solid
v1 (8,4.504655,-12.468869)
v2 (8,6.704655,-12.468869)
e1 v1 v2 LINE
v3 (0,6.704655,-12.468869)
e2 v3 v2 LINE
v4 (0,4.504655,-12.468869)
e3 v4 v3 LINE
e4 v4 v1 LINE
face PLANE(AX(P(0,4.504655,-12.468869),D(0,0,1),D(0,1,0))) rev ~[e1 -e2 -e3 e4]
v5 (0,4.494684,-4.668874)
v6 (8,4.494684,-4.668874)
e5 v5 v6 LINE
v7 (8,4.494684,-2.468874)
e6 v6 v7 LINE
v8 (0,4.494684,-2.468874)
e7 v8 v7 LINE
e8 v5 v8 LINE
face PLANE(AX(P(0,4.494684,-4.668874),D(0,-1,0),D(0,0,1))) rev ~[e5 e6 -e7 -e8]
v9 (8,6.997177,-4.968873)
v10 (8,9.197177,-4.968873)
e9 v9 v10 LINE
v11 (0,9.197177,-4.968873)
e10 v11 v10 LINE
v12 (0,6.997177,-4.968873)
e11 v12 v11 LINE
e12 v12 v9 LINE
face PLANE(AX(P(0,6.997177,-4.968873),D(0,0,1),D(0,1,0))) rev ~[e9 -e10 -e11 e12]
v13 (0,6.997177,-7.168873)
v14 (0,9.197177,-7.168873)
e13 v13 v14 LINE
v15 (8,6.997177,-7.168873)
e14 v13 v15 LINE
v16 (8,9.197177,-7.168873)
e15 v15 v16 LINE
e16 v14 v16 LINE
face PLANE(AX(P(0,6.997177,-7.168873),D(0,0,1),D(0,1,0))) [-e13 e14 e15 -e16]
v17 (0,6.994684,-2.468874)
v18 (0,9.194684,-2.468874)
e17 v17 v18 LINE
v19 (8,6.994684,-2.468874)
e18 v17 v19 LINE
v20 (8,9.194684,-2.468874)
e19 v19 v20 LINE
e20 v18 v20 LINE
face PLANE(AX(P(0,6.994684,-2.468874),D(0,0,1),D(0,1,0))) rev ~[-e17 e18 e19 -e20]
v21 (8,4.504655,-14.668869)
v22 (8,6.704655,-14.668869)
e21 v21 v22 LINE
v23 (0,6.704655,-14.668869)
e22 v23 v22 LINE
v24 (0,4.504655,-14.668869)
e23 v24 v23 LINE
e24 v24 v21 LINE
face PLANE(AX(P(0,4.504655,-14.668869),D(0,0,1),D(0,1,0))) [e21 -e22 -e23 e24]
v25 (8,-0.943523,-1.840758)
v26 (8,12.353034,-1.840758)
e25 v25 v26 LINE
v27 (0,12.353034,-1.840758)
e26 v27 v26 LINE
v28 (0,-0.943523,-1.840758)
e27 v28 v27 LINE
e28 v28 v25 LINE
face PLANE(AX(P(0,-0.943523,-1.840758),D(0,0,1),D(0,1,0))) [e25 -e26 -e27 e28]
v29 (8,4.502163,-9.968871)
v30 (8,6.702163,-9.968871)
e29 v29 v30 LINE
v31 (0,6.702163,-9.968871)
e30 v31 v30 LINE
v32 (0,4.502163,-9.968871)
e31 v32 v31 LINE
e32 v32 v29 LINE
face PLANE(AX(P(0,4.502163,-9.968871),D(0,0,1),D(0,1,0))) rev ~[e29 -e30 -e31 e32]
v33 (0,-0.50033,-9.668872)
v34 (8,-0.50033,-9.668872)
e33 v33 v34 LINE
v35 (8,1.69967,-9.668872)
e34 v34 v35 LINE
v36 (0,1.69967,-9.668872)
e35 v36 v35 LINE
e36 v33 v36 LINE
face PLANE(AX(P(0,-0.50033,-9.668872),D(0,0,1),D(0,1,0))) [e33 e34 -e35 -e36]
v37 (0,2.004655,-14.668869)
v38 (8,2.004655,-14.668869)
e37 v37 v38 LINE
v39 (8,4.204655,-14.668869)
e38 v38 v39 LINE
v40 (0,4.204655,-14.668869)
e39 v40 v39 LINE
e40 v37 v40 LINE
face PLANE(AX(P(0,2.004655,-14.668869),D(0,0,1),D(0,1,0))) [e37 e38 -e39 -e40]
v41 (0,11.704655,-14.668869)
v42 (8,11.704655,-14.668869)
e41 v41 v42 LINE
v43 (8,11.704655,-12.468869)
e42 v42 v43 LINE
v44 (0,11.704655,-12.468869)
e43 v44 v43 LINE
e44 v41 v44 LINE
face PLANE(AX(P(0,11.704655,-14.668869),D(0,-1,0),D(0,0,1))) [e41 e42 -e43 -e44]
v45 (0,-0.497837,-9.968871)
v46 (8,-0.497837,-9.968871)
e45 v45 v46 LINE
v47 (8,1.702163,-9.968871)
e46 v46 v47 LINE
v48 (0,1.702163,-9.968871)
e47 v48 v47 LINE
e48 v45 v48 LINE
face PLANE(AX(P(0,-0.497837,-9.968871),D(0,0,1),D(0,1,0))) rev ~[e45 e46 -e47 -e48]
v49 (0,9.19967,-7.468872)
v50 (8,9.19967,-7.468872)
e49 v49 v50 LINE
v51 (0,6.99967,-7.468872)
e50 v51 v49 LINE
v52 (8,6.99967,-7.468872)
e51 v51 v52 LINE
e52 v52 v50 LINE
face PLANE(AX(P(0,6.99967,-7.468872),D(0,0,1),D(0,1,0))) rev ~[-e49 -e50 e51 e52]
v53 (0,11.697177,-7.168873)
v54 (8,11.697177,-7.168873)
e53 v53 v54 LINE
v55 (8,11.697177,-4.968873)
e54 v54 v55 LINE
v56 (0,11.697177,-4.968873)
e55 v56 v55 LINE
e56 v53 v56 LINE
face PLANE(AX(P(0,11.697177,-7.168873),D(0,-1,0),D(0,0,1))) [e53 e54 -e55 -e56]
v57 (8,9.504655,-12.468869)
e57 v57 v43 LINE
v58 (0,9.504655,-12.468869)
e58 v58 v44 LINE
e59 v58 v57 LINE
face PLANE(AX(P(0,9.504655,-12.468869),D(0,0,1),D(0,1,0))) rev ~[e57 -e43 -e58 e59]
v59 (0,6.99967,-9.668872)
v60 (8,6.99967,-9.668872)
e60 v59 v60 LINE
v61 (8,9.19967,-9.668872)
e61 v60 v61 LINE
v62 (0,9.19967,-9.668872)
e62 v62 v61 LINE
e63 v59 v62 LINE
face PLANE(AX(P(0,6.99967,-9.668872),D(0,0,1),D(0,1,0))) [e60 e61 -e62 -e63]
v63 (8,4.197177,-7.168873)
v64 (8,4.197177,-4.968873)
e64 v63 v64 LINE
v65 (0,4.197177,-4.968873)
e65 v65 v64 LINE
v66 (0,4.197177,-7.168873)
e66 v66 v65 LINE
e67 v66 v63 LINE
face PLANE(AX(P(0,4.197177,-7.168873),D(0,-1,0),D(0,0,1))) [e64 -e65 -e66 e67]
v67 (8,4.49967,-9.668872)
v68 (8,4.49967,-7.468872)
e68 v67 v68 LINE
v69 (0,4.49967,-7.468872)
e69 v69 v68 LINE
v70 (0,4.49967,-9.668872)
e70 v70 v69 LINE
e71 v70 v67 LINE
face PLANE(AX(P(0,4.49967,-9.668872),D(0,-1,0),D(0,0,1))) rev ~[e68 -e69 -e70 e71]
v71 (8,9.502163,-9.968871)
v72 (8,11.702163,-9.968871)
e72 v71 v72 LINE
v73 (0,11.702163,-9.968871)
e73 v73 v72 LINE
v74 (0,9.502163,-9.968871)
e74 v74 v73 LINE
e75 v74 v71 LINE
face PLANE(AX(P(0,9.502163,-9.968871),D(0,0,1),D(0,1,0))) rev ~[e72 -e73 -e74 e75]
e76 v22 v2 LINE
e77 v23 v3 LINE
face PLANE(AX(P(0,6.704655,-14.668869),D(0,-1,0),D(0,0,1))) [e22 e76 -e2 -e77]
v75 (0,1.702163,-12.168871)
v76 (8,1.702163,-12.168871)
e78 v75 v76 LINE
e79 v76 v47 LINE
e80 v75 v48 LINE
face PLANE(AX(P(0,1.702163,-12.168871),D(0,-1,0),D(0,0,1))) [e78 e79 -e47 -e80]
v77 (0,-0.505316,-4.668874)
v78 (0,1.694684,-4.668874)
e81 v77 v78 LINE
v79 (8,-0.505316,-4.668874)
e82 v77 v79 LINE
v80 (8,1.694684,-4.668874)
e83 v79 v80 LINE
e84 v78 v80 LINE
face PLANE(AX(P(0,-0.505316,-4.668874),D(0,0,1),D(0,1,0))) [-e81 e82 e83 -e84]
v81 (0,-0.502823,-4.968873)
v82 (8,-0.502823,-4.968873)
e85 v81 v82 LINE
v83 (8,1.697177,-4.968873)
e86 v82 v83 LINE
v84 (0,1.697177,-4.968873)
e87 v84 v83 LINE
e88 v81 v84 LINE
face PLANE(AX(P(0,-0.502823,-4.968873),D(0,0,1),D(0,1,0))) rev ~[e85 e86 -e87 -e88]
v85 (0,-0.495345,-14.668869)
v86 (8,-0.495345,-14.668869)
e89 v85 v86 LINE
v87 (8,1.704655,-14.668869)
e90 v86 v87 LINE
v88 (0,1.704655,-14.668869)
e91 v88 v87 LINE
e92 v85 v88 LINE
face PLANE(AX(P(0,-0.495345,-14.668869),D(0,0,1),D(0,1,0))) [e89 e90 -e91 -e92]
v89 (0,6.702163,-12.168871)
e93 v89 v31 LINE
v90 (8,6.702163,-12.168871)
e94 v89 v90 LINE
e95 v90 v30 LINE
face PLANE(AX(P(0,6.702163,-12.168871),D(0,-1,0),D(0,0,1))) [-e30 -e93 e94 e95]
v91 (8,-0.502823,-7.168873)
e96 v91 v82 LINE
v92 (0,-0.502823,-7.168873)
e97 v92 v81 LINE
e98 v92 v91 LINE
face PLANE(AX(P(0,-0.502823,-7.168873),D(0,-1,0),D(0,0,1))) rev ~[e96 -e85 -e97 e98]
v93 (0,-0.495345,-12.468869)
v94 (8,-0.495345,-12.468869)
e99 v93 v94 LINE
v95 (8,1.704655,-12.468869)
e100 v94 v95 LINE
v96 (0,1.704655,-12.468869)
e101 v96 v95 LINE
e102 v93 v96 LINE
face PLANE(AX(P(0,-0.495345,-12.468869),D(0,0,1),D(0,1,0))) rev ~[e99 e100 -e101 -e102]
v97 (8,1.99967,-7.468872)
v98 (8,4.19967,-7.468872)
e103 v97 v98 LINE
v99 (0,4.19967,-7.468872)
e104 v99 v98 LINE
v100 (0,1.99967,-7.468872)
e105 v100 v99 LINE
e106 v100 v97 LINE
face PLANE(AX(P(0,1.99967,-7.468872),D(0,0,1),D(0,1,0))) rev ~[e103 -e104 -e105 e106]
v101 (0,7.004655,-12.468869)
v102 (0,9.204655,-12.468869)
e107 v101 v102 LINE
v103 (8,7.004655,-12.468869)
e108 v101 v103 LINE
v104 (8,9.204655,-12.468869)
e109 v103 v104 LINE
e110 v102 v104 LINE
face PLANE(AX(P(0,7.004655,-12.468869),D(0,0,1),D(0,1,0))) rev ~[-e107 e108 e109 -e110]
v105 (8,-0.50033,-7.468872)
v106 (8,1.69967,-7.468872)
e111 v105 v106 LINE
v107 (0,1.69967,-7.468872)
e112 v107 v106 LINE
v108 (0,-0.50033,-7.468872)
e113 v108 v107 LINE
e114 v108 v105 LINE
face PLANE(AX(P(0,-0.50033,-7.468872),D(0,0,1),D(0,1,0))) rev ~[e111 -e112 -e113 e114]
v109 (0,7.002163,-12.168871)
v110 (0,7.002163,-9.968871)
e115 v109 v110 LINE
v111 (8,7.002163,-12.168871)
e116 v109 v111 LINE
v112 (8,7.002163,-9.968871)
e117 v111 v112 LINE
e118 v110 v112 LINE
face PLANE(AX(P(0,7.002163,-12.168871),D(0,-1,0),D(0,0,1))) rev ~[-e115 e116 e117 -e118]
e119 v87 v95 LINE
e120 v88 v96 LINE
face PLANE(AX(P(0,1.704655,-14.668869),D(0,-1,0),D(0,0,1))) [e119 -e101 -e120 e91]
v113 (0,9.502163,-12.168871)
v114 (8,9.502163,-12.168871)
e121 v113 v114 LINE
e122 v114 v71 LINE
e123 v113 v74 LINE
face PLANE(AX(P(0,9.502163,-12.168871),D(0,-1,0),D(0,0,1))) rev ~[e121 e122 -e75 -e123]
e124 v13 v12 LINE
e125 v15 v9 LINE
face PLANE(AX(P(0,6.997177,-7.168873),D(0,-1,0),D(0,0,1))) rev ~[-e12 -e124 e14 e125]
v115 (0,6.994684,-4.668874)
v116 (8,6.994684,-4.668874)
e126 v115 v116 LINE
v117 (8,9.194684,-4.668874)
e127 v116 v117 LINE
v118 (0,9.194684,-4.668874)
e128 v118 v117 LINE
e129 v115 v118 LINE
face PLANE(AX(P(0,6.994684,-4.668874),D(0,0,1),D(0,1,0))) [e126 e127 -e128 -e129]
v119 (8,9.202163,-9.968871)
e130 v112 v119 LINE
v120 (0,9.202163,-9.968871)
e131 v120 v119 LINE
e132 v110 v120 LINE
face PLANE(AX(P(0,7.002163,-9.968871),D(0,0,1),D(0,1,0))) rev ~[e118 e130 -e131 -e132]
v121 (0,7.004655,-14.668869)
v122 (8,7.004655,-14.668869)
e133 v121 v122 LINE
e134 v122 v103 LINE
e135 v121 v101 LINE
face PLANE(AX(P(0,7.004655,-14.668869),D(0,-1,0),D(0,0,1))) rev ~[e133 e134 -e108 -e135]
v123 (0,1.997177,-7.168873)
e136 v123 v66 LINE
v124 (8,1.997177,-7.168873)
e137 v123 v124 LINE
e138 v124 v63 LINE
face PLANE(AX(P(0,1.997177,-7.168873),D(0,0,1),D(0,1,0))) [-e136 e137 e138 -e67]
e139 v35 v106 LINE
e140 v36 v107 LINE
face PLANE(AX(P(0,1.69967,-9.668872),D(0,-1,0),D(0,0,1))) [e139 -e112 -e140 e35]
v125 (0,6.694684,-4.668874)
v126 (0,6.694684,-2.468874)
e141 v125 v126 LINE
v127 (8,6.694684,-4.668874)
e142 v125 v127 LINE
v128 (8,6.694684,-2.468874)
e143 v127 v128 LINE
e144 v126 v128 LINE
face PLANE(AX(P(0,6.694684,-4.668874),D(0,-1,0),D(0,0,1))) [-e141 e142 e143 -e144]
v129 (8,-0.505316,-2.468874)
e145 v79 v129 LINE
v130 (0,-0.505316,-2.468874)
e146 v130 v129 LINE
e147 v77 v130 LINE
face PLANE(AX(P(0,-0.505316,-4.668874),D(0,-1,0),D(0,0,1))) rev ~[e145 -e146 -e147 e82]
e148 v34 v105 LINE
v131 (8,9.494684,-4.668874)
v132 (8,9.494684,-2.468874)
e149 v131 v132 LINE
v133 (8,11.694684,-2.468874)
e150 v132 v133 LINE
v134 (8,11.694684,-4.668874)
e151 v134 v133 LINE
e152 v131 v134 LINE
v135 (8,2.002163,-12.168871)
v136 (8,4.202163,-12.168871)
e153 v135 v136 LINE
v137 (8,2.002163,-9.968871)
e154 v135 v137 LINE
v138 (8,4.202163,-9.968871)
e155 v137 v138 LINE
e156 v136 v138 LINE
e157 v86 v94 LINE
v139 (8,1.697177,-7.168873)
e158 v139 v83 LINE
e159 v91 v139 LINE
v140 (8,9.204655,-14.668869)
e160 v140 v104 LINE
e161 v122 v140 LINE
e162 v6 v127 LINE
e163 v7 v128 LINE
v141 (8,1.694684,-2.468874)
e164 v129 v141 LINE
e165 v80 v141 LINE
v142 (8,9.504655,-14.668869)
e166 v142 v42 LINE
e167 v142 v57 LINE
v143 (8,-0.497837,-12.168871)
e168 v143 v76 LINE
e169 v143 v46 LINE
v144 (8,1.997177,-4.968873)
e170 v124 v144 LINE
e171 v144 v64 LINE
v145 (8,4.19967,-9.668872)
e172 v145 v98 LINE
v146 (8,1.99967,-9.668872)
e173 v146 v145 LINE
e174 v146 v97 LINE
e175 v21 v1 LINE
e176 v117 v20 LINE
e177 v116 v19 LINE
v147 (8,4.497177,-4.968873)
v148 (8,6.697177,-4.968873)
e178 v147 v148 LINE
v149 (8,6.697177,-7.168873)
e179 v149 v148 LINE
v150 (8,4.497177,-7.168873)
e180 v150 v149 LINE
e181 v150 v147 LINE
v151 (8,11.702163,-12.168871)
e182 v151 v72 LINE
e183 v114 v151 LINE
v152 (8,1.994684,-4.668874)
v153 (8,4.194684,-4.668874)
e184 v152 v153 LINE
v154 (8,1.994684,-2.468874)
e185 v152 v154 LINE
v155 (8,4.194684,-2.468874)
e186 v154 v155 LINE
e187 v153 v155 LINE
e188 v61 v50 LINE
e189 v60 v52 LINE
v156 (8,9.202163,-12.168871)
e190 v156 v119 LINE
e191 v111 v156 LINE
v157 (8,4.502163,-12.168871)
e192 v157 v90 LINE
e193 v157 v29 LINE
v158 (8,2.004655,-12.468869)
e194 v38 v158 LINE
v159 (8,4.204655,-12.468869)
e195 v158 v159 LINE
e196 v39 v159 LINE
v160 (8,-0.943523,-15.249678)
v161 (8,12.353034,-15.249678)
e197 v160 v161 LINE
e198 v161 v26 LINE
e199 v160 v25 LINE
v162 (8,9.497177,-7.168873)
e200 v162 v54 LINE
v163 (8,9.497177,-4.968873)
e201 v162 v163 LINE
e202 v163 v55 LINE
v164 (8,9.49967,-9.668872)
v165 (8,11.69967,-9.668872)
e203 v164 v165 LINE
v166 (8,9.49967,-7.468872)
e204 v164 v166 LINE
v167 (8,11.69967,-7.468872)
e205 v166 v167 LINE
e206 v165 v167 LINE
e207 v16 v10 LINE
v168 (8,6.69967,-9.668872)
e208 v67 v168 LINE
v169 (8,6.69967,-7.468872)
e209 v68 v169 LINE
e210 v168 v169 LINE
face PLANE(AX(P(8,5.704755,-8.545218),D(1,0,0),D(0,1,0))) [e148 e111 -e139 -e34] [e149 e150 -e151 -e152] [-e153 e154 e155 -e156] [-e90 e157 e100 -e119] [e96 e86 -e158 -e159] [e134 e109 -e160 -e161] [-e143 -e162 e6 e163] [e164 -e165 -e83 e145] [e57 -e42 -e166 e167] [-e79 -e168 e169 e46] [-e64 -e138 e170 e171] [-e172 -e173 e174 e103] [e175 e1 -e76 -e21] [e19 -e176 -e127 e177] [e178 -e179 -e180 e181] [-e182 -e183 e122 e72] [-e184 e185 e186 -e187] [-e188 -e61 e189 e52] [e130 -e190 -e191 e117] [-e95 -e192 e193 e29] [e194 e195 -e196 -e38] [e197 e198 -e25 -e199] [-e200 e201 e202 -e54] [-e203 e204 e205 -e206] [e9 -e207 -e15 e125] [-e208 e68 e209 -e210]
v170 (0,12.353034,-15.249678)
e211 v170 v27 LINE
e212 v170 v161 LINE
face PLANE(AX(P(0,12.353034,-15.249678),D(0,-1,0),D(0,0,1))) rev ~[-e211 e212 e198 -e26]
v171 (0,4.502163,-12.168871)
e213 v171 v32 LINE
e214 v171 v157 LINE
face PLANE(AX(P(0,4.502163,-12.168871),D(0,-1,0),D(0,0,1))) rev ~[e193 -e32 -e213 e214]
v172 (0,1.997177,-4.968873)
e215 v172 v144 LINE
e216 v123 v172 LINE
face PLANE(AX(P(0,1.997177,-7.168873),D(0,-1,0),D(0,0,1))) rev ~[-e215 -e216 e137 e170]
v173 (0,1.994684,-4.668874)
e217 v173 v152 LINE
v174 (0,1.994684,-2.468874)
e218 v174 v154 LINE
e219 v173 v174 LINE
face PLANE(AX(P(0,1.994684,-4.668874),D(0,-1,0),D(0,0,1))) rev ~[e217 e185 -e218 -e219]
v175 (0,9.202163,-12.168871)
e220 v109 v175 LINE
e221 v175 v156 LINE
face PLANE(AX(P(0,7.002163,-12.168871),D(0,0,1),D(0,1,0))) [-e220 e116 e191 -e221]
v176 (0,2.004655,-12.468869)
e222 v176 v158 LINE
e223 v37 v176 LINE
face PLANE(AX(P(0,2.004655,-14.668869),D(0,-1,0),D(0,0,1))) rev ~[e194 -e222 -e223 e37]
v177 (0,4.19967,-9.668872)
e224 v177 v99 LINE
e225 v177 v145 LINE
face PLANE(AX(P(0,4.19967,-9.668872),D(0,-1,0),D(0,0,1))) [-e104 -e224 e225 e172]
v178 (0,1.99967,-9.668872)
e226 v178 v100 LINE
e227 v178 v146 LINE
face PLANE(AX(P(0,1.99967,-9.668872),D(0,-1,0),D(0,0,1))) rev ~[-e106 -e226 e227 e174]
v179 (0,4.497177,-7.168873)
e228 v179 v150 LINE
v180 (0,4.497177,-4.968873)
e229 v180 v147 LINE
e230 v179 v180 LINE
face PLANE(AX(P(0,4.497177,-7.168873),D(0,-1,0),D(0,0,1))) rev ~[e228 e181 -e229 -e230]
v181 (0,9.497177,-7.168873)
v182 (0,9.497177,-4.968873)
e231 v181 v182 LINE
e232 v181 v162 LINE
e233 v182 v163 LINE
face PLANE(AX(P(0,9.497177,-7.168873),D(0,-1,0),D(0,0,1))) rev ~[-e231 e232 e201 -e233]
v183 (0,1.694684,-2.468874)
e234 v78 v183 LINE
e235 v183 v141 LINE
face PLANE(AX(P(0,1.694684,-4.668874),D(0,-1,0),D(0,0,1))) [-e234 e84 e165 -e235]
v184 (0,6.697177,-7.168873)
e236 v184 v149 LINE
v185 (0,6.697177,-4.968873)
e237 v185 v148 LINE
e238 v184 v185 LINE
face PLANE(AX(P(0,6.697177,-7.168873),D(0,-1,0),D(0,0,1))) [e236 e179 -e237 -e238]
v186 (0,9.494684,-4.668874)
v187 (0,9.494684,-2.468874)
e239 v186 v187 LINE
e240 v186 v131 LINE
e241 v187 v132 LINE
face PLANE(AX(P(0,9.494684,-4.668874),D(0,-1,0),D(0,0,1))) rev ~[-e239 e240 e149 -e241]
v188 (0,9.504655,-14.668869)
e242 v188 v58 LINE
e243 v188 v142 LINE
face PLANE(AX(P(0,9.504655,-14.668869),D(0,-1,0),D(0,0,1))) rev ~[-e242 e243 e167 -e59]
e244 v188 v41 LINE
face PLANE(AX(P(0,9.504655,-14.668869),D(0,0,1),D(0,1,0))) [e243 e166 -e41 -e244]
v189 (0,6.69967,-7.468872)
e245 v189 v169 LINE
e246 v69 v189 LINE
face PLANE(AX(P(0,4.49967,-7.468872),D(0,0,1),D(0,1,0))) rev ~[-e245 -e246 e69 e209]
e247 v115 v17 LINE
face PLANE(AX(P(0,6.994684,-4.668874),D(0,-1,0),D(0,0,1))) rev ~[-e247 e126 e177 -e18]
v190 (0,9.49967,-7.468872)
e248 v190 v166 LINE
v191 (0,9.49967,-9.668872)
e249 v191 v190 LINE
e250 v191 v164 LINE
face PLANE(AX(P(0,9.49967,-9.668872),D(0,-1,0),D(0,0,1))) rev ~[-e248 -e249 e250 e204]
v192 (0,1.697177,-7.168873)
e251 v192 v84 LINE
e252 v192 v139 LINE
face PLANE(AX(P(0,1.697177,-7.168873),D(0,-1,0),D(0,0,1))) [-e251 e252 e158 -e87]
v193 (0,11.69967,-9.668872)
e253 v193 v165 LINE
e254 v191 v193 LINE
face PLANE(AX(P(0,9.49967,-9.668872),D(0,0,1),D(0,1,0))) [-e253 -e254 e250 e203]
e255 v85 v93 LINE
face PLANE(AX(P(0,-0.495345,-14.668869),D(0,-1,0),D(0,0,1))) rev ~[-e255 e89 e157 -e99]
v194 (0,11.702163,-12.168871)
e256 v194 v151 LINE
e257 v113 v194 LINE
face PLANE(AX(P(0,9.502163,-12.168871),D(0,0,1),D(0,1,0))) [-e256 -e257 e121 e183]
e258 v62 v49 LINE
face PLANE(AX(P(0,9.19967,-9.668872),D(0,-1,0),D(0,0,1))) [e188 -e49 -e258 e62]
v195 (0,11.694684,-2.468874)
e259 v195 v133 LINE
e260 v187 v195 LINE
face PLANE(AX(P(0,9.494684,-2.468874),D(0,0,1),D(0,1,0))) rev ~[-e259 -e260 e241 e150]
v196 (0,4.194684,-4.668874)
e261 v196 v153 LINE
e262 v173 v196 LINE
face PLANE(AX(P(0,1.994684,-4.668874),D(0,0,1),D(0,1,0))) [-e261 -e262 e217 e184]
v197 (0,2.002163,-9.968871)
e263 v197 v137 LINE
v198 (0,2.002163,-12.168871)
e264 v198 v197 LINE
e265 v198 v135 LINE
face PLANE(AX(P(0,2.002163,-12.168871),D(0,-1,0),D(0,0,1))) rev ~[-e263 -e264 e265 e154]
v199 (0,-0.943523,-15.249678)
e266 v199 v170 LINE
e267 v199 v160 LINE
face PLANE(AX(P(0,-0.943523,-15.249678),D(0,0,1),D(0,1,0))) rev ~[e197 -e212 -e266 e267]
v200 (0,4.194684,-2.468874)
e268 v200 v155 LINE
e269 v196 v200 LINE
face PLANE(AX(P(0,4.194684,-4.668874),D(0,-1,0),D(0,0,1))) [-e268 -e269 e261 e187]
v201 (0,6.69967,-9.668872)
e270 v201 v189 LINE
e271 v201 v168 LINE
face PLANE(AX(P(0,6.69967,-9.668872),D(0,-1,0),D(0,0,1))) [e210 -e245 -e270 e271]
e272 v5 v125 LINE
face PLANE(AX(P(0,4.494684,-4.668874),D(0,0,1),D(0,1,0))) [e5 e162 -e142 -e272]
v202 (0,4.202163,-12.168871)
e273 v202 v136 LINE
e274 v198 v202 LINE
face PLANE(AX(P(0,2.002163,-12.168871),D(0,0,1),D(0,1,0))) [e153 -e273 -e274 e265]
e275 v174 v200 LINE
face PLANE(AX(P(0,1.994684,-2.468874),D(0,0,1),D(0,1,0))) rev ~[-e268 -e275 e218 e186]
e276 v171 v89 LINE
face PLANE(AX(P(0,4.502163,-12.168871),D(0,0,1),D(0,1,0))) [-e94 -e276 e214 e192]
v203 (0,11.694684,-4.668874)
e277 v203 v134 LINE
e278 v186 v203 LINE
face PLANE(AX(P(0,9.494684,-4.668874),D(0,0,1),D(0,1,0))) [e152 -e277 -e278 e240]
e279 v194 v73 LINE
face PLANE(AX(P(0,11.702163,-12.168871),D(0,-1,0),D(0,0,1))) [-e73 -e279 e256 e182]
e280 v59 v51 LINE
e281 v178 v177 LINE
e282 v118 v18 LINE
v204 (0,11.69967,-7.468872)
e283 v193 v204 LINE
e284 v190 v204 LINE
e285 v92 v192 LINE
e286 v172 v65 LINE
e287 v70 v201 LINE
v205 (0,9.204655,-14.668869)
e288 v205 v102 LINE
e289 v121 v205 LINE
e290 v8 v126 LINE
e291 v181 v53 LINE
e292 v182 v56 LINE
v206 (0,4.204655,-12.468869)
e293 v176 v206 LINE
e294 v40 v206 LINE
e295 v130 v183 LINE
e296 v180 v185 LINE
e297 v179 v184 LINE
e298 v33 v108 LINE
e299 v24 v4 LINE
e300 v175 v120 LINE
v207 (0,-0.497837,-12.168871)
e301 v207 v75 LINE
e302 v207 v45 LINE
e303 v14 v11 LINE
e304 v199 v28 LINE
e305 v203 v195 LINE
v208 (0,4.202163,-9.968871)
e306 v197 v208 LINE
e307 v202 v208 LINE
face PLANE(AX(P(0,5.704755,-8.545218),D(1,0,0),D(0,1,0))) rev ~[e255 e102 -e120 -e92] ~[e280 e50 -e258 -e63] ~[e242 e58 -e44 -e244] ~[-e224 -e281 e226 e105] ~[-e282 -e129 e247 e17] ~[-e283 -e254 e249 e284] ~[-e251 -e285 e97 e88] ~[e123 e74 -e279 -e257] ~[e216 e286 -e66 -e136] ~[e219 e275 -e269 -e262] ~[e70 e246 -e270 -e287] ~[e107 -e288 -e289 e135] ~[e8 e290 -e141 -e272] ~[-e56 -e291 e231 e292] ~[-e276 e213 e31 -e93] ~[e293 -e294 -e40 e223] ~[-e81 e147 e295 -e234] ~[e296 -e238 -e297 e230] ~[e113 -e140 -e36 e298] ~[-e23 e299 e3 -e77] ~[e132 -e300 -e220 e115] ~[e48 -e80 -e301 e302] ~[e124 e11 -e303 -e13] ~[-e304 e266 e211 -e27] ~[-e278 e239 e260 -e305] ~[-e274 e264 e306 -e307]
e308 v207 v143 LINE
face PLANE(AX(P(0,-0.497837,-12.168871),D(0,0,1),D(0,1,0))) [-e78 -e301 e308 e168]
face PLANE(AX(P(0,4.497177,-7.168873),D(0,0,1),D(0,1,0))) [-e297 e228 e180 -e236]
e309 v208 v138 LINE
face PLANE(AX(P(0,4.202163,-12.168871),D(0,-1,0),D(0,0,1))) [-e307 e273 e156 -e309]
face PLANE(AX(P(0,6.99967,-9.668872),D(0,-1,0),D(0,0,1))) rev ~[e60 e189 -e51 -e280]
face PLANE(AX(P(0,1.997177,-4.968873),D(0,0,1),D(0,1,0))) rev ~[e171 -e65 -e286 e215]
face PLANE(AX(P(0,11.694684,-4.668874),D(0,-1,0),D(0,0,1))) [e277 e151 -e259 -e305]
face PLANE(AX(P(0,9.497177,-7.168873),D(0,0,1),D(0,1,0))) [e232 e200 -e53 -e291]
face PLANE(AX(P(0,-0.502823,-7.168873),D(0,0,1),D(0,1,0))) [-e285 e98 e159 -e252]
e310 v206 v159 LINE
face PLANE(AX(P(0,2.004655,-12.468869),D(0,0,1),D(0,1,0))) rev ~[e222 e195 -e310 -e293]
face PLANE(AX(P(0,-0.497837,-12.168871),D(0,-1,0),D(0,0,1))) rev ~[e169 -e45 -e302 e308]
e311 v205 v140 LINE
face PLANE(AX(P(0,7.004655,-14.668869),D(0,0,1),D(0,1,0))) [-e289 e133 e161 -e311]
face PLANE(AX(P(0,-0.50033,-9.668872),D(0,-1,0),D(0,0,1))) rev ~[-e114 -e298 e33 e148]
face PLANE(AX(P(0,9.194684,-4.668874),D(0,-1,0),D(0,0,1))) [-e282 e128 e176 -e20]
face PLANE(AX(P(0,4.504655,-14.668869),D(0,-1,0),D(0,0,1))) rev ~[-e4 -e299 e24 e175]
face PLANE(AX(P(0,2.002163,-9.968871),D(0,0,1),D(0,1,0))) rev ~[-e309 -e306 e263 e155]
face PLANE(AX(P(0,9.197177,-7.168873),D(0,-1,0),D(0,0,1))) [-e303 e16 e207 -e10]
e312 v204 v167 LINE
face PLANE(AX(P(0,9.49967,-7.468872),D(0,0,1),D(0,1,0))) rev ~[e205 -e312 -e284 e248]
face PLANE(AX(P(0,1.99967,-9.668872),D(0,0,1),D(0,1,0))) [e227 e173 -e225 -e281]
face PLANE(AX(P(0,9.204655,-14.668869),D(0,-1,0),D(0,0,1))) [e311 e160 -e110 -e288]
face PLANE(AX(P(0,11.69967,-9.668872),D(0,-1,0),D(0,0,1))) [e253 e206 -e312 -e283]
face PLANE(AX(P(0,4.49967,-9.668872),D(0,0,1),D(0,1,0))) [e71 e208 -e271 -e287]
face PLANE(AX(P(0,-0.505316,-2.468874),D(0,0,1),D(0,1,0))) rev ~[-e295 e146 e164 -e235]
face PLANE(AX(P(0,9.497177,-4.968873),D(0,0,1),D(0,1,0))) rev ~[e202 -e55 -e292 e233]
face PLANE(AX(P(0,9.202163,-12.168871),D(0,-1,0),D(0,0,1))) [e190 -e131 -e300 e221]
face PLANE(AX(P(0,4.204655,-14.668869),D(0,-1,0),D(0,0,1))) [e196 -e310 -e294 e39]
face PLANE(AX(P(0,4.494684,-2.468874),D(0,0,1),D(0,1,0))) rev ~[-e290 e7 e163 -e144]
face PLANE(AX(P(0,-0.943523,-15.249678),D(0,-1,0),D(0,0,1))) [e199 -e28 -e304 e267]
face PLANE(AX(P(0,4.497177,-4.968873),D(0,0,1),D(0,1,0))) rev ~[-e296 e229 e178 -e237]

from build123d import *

# Parameters (mm, degrees)
F0_W     = 13.296557
F0_H     = 13.408921
F0_W_2   = 2.2
F0_H_2   = 2.2
F1_DEPTH = 8


with BuildPart() as f1:
    # F0 (on Right) → F1 (new body)
    with BuildSketch(Plane.YZ):
        with Locations((5.704755, -8.545218)):
            Rectangle(F0_W, F0_H)
        with Locations((0.604655, -13.568869)):
            Rectangle(F0_W_2, F0_H_2, mode=Mode.SUBTRACT)
        with Locations((3.104655, -13.568869)):
            Rectangle(F0_W_2, F0_H_2, mode=Mode.SUBTRACT)
        with Locations((5.604655, -13.568869)):
            Rectangle(F0_W_2, F0_H_2, mode=Mode.SUBTRACT)
        with Locations((0.602163, -11.068871)):
            Rectangle(F0_W_2, F0_H_2, mode=Mode.SUBTRACT)
        with Locations((0.59967, -8.568872)):
            Rectangle(F0_W_2, F0_H_2, mode=Mode.SUBTRACT)
        with Locations((3.102163, -11.068871)):
            Rectangle(F0_W_2, F0_H_2, mode=Mode.SUBTRACT)
        with Locations((5.602163, -11.068871)):
            Rectangle(F0_W_2, F0_H_2, mode=Mode.SUBTRACT)
        with Locations((3.09967, -8.568872)):
            Rectangle(F0_W_2, F0_H_2, mode=Mode.SUBTRACT)
        with Locations((5.59967, -8.568872)):
            Rectangle(F0_W_2, F0_H_2, mode=Mode.SUBTRACT)
        with Locations((8.104655, -13.568869)):
            Rectangle(F0_W_2, F0_H_2, mode=Mode.SUBTRACT)
        with Locations((10.604655, -13.568869)):
            Rectangle(F0_W_2, F0_H_2, mode=Mode.SUBTRACT)
        with Locations((8.102163, -11.068871)):
            Rectangle(F0_W_2, F0_H_2, mode=Mode.SUBTRACT)
        with Locations((8.09967, -8.568872)):
            Rectangle(F0_W_2, F0_H_2, mode=Mode.SUBTRACT)
        with Locations((10.602163, -11.068871)):
            Rectangle(F0_W_2, F0_H_2, mode=Mode.SUBTRACT)
        with Locations((10.59967, -8.568872)):
            Rectangle(F0_W_2, F0_H_2, mode=Mode.SUBTRACT)
        with Locations((0.597177, -6.068873)):
            Rectangle(F0_W_2, F0_H_2, mode=Mode.SUBTRACT)
        with Locations((3.097177, -6.068873)):
            Rectangle(F0_W_2, F0_H_2, mode=Mode.SUBTRACT)
        with Locations((5.597177, -6.068873)):
            Rectangle(F0_W_2, F0_H_2, mode=Mode.SUBTRACT)
        with Locations((0.594684, -3.568874)):
            Rectangle(F0_W_2, F0_H_2, mode=Mode.SUBTRACT)
        with Locations((3.094684, -3.568874)):
            Rectangle(F0_W_2, F0_H_2, mode=Mode.SUBTRACT)
        with Locations((5.594684, -3.568874)):
            Rectangle(F0_W_2, F0_H_2, mode=Mode.SUBTRACT)
        with Locations((8.097177, -6.068873)):
            Rectangle(F0_W_2, F0_H_2, mode=Mode.SUBTRACT)
        with Locations((10.597177, -6.068873)):
            Rectangle(F0_W_2, F0_H_2, mode=Mode.SUBTRACT)
        with Locations((8.094684, -3.568874)):
            Rectangle(F0_W_2, F0_H_2, mode=Mode.SUBTRACT)
        with Locations((10.594684, -3.568874)):
            Rectangle(F0_W_2, F0_H_2, mode=Mode.SUBTRACT)
    extrude(amount=F1_DEPTH)


solid = f1.part
